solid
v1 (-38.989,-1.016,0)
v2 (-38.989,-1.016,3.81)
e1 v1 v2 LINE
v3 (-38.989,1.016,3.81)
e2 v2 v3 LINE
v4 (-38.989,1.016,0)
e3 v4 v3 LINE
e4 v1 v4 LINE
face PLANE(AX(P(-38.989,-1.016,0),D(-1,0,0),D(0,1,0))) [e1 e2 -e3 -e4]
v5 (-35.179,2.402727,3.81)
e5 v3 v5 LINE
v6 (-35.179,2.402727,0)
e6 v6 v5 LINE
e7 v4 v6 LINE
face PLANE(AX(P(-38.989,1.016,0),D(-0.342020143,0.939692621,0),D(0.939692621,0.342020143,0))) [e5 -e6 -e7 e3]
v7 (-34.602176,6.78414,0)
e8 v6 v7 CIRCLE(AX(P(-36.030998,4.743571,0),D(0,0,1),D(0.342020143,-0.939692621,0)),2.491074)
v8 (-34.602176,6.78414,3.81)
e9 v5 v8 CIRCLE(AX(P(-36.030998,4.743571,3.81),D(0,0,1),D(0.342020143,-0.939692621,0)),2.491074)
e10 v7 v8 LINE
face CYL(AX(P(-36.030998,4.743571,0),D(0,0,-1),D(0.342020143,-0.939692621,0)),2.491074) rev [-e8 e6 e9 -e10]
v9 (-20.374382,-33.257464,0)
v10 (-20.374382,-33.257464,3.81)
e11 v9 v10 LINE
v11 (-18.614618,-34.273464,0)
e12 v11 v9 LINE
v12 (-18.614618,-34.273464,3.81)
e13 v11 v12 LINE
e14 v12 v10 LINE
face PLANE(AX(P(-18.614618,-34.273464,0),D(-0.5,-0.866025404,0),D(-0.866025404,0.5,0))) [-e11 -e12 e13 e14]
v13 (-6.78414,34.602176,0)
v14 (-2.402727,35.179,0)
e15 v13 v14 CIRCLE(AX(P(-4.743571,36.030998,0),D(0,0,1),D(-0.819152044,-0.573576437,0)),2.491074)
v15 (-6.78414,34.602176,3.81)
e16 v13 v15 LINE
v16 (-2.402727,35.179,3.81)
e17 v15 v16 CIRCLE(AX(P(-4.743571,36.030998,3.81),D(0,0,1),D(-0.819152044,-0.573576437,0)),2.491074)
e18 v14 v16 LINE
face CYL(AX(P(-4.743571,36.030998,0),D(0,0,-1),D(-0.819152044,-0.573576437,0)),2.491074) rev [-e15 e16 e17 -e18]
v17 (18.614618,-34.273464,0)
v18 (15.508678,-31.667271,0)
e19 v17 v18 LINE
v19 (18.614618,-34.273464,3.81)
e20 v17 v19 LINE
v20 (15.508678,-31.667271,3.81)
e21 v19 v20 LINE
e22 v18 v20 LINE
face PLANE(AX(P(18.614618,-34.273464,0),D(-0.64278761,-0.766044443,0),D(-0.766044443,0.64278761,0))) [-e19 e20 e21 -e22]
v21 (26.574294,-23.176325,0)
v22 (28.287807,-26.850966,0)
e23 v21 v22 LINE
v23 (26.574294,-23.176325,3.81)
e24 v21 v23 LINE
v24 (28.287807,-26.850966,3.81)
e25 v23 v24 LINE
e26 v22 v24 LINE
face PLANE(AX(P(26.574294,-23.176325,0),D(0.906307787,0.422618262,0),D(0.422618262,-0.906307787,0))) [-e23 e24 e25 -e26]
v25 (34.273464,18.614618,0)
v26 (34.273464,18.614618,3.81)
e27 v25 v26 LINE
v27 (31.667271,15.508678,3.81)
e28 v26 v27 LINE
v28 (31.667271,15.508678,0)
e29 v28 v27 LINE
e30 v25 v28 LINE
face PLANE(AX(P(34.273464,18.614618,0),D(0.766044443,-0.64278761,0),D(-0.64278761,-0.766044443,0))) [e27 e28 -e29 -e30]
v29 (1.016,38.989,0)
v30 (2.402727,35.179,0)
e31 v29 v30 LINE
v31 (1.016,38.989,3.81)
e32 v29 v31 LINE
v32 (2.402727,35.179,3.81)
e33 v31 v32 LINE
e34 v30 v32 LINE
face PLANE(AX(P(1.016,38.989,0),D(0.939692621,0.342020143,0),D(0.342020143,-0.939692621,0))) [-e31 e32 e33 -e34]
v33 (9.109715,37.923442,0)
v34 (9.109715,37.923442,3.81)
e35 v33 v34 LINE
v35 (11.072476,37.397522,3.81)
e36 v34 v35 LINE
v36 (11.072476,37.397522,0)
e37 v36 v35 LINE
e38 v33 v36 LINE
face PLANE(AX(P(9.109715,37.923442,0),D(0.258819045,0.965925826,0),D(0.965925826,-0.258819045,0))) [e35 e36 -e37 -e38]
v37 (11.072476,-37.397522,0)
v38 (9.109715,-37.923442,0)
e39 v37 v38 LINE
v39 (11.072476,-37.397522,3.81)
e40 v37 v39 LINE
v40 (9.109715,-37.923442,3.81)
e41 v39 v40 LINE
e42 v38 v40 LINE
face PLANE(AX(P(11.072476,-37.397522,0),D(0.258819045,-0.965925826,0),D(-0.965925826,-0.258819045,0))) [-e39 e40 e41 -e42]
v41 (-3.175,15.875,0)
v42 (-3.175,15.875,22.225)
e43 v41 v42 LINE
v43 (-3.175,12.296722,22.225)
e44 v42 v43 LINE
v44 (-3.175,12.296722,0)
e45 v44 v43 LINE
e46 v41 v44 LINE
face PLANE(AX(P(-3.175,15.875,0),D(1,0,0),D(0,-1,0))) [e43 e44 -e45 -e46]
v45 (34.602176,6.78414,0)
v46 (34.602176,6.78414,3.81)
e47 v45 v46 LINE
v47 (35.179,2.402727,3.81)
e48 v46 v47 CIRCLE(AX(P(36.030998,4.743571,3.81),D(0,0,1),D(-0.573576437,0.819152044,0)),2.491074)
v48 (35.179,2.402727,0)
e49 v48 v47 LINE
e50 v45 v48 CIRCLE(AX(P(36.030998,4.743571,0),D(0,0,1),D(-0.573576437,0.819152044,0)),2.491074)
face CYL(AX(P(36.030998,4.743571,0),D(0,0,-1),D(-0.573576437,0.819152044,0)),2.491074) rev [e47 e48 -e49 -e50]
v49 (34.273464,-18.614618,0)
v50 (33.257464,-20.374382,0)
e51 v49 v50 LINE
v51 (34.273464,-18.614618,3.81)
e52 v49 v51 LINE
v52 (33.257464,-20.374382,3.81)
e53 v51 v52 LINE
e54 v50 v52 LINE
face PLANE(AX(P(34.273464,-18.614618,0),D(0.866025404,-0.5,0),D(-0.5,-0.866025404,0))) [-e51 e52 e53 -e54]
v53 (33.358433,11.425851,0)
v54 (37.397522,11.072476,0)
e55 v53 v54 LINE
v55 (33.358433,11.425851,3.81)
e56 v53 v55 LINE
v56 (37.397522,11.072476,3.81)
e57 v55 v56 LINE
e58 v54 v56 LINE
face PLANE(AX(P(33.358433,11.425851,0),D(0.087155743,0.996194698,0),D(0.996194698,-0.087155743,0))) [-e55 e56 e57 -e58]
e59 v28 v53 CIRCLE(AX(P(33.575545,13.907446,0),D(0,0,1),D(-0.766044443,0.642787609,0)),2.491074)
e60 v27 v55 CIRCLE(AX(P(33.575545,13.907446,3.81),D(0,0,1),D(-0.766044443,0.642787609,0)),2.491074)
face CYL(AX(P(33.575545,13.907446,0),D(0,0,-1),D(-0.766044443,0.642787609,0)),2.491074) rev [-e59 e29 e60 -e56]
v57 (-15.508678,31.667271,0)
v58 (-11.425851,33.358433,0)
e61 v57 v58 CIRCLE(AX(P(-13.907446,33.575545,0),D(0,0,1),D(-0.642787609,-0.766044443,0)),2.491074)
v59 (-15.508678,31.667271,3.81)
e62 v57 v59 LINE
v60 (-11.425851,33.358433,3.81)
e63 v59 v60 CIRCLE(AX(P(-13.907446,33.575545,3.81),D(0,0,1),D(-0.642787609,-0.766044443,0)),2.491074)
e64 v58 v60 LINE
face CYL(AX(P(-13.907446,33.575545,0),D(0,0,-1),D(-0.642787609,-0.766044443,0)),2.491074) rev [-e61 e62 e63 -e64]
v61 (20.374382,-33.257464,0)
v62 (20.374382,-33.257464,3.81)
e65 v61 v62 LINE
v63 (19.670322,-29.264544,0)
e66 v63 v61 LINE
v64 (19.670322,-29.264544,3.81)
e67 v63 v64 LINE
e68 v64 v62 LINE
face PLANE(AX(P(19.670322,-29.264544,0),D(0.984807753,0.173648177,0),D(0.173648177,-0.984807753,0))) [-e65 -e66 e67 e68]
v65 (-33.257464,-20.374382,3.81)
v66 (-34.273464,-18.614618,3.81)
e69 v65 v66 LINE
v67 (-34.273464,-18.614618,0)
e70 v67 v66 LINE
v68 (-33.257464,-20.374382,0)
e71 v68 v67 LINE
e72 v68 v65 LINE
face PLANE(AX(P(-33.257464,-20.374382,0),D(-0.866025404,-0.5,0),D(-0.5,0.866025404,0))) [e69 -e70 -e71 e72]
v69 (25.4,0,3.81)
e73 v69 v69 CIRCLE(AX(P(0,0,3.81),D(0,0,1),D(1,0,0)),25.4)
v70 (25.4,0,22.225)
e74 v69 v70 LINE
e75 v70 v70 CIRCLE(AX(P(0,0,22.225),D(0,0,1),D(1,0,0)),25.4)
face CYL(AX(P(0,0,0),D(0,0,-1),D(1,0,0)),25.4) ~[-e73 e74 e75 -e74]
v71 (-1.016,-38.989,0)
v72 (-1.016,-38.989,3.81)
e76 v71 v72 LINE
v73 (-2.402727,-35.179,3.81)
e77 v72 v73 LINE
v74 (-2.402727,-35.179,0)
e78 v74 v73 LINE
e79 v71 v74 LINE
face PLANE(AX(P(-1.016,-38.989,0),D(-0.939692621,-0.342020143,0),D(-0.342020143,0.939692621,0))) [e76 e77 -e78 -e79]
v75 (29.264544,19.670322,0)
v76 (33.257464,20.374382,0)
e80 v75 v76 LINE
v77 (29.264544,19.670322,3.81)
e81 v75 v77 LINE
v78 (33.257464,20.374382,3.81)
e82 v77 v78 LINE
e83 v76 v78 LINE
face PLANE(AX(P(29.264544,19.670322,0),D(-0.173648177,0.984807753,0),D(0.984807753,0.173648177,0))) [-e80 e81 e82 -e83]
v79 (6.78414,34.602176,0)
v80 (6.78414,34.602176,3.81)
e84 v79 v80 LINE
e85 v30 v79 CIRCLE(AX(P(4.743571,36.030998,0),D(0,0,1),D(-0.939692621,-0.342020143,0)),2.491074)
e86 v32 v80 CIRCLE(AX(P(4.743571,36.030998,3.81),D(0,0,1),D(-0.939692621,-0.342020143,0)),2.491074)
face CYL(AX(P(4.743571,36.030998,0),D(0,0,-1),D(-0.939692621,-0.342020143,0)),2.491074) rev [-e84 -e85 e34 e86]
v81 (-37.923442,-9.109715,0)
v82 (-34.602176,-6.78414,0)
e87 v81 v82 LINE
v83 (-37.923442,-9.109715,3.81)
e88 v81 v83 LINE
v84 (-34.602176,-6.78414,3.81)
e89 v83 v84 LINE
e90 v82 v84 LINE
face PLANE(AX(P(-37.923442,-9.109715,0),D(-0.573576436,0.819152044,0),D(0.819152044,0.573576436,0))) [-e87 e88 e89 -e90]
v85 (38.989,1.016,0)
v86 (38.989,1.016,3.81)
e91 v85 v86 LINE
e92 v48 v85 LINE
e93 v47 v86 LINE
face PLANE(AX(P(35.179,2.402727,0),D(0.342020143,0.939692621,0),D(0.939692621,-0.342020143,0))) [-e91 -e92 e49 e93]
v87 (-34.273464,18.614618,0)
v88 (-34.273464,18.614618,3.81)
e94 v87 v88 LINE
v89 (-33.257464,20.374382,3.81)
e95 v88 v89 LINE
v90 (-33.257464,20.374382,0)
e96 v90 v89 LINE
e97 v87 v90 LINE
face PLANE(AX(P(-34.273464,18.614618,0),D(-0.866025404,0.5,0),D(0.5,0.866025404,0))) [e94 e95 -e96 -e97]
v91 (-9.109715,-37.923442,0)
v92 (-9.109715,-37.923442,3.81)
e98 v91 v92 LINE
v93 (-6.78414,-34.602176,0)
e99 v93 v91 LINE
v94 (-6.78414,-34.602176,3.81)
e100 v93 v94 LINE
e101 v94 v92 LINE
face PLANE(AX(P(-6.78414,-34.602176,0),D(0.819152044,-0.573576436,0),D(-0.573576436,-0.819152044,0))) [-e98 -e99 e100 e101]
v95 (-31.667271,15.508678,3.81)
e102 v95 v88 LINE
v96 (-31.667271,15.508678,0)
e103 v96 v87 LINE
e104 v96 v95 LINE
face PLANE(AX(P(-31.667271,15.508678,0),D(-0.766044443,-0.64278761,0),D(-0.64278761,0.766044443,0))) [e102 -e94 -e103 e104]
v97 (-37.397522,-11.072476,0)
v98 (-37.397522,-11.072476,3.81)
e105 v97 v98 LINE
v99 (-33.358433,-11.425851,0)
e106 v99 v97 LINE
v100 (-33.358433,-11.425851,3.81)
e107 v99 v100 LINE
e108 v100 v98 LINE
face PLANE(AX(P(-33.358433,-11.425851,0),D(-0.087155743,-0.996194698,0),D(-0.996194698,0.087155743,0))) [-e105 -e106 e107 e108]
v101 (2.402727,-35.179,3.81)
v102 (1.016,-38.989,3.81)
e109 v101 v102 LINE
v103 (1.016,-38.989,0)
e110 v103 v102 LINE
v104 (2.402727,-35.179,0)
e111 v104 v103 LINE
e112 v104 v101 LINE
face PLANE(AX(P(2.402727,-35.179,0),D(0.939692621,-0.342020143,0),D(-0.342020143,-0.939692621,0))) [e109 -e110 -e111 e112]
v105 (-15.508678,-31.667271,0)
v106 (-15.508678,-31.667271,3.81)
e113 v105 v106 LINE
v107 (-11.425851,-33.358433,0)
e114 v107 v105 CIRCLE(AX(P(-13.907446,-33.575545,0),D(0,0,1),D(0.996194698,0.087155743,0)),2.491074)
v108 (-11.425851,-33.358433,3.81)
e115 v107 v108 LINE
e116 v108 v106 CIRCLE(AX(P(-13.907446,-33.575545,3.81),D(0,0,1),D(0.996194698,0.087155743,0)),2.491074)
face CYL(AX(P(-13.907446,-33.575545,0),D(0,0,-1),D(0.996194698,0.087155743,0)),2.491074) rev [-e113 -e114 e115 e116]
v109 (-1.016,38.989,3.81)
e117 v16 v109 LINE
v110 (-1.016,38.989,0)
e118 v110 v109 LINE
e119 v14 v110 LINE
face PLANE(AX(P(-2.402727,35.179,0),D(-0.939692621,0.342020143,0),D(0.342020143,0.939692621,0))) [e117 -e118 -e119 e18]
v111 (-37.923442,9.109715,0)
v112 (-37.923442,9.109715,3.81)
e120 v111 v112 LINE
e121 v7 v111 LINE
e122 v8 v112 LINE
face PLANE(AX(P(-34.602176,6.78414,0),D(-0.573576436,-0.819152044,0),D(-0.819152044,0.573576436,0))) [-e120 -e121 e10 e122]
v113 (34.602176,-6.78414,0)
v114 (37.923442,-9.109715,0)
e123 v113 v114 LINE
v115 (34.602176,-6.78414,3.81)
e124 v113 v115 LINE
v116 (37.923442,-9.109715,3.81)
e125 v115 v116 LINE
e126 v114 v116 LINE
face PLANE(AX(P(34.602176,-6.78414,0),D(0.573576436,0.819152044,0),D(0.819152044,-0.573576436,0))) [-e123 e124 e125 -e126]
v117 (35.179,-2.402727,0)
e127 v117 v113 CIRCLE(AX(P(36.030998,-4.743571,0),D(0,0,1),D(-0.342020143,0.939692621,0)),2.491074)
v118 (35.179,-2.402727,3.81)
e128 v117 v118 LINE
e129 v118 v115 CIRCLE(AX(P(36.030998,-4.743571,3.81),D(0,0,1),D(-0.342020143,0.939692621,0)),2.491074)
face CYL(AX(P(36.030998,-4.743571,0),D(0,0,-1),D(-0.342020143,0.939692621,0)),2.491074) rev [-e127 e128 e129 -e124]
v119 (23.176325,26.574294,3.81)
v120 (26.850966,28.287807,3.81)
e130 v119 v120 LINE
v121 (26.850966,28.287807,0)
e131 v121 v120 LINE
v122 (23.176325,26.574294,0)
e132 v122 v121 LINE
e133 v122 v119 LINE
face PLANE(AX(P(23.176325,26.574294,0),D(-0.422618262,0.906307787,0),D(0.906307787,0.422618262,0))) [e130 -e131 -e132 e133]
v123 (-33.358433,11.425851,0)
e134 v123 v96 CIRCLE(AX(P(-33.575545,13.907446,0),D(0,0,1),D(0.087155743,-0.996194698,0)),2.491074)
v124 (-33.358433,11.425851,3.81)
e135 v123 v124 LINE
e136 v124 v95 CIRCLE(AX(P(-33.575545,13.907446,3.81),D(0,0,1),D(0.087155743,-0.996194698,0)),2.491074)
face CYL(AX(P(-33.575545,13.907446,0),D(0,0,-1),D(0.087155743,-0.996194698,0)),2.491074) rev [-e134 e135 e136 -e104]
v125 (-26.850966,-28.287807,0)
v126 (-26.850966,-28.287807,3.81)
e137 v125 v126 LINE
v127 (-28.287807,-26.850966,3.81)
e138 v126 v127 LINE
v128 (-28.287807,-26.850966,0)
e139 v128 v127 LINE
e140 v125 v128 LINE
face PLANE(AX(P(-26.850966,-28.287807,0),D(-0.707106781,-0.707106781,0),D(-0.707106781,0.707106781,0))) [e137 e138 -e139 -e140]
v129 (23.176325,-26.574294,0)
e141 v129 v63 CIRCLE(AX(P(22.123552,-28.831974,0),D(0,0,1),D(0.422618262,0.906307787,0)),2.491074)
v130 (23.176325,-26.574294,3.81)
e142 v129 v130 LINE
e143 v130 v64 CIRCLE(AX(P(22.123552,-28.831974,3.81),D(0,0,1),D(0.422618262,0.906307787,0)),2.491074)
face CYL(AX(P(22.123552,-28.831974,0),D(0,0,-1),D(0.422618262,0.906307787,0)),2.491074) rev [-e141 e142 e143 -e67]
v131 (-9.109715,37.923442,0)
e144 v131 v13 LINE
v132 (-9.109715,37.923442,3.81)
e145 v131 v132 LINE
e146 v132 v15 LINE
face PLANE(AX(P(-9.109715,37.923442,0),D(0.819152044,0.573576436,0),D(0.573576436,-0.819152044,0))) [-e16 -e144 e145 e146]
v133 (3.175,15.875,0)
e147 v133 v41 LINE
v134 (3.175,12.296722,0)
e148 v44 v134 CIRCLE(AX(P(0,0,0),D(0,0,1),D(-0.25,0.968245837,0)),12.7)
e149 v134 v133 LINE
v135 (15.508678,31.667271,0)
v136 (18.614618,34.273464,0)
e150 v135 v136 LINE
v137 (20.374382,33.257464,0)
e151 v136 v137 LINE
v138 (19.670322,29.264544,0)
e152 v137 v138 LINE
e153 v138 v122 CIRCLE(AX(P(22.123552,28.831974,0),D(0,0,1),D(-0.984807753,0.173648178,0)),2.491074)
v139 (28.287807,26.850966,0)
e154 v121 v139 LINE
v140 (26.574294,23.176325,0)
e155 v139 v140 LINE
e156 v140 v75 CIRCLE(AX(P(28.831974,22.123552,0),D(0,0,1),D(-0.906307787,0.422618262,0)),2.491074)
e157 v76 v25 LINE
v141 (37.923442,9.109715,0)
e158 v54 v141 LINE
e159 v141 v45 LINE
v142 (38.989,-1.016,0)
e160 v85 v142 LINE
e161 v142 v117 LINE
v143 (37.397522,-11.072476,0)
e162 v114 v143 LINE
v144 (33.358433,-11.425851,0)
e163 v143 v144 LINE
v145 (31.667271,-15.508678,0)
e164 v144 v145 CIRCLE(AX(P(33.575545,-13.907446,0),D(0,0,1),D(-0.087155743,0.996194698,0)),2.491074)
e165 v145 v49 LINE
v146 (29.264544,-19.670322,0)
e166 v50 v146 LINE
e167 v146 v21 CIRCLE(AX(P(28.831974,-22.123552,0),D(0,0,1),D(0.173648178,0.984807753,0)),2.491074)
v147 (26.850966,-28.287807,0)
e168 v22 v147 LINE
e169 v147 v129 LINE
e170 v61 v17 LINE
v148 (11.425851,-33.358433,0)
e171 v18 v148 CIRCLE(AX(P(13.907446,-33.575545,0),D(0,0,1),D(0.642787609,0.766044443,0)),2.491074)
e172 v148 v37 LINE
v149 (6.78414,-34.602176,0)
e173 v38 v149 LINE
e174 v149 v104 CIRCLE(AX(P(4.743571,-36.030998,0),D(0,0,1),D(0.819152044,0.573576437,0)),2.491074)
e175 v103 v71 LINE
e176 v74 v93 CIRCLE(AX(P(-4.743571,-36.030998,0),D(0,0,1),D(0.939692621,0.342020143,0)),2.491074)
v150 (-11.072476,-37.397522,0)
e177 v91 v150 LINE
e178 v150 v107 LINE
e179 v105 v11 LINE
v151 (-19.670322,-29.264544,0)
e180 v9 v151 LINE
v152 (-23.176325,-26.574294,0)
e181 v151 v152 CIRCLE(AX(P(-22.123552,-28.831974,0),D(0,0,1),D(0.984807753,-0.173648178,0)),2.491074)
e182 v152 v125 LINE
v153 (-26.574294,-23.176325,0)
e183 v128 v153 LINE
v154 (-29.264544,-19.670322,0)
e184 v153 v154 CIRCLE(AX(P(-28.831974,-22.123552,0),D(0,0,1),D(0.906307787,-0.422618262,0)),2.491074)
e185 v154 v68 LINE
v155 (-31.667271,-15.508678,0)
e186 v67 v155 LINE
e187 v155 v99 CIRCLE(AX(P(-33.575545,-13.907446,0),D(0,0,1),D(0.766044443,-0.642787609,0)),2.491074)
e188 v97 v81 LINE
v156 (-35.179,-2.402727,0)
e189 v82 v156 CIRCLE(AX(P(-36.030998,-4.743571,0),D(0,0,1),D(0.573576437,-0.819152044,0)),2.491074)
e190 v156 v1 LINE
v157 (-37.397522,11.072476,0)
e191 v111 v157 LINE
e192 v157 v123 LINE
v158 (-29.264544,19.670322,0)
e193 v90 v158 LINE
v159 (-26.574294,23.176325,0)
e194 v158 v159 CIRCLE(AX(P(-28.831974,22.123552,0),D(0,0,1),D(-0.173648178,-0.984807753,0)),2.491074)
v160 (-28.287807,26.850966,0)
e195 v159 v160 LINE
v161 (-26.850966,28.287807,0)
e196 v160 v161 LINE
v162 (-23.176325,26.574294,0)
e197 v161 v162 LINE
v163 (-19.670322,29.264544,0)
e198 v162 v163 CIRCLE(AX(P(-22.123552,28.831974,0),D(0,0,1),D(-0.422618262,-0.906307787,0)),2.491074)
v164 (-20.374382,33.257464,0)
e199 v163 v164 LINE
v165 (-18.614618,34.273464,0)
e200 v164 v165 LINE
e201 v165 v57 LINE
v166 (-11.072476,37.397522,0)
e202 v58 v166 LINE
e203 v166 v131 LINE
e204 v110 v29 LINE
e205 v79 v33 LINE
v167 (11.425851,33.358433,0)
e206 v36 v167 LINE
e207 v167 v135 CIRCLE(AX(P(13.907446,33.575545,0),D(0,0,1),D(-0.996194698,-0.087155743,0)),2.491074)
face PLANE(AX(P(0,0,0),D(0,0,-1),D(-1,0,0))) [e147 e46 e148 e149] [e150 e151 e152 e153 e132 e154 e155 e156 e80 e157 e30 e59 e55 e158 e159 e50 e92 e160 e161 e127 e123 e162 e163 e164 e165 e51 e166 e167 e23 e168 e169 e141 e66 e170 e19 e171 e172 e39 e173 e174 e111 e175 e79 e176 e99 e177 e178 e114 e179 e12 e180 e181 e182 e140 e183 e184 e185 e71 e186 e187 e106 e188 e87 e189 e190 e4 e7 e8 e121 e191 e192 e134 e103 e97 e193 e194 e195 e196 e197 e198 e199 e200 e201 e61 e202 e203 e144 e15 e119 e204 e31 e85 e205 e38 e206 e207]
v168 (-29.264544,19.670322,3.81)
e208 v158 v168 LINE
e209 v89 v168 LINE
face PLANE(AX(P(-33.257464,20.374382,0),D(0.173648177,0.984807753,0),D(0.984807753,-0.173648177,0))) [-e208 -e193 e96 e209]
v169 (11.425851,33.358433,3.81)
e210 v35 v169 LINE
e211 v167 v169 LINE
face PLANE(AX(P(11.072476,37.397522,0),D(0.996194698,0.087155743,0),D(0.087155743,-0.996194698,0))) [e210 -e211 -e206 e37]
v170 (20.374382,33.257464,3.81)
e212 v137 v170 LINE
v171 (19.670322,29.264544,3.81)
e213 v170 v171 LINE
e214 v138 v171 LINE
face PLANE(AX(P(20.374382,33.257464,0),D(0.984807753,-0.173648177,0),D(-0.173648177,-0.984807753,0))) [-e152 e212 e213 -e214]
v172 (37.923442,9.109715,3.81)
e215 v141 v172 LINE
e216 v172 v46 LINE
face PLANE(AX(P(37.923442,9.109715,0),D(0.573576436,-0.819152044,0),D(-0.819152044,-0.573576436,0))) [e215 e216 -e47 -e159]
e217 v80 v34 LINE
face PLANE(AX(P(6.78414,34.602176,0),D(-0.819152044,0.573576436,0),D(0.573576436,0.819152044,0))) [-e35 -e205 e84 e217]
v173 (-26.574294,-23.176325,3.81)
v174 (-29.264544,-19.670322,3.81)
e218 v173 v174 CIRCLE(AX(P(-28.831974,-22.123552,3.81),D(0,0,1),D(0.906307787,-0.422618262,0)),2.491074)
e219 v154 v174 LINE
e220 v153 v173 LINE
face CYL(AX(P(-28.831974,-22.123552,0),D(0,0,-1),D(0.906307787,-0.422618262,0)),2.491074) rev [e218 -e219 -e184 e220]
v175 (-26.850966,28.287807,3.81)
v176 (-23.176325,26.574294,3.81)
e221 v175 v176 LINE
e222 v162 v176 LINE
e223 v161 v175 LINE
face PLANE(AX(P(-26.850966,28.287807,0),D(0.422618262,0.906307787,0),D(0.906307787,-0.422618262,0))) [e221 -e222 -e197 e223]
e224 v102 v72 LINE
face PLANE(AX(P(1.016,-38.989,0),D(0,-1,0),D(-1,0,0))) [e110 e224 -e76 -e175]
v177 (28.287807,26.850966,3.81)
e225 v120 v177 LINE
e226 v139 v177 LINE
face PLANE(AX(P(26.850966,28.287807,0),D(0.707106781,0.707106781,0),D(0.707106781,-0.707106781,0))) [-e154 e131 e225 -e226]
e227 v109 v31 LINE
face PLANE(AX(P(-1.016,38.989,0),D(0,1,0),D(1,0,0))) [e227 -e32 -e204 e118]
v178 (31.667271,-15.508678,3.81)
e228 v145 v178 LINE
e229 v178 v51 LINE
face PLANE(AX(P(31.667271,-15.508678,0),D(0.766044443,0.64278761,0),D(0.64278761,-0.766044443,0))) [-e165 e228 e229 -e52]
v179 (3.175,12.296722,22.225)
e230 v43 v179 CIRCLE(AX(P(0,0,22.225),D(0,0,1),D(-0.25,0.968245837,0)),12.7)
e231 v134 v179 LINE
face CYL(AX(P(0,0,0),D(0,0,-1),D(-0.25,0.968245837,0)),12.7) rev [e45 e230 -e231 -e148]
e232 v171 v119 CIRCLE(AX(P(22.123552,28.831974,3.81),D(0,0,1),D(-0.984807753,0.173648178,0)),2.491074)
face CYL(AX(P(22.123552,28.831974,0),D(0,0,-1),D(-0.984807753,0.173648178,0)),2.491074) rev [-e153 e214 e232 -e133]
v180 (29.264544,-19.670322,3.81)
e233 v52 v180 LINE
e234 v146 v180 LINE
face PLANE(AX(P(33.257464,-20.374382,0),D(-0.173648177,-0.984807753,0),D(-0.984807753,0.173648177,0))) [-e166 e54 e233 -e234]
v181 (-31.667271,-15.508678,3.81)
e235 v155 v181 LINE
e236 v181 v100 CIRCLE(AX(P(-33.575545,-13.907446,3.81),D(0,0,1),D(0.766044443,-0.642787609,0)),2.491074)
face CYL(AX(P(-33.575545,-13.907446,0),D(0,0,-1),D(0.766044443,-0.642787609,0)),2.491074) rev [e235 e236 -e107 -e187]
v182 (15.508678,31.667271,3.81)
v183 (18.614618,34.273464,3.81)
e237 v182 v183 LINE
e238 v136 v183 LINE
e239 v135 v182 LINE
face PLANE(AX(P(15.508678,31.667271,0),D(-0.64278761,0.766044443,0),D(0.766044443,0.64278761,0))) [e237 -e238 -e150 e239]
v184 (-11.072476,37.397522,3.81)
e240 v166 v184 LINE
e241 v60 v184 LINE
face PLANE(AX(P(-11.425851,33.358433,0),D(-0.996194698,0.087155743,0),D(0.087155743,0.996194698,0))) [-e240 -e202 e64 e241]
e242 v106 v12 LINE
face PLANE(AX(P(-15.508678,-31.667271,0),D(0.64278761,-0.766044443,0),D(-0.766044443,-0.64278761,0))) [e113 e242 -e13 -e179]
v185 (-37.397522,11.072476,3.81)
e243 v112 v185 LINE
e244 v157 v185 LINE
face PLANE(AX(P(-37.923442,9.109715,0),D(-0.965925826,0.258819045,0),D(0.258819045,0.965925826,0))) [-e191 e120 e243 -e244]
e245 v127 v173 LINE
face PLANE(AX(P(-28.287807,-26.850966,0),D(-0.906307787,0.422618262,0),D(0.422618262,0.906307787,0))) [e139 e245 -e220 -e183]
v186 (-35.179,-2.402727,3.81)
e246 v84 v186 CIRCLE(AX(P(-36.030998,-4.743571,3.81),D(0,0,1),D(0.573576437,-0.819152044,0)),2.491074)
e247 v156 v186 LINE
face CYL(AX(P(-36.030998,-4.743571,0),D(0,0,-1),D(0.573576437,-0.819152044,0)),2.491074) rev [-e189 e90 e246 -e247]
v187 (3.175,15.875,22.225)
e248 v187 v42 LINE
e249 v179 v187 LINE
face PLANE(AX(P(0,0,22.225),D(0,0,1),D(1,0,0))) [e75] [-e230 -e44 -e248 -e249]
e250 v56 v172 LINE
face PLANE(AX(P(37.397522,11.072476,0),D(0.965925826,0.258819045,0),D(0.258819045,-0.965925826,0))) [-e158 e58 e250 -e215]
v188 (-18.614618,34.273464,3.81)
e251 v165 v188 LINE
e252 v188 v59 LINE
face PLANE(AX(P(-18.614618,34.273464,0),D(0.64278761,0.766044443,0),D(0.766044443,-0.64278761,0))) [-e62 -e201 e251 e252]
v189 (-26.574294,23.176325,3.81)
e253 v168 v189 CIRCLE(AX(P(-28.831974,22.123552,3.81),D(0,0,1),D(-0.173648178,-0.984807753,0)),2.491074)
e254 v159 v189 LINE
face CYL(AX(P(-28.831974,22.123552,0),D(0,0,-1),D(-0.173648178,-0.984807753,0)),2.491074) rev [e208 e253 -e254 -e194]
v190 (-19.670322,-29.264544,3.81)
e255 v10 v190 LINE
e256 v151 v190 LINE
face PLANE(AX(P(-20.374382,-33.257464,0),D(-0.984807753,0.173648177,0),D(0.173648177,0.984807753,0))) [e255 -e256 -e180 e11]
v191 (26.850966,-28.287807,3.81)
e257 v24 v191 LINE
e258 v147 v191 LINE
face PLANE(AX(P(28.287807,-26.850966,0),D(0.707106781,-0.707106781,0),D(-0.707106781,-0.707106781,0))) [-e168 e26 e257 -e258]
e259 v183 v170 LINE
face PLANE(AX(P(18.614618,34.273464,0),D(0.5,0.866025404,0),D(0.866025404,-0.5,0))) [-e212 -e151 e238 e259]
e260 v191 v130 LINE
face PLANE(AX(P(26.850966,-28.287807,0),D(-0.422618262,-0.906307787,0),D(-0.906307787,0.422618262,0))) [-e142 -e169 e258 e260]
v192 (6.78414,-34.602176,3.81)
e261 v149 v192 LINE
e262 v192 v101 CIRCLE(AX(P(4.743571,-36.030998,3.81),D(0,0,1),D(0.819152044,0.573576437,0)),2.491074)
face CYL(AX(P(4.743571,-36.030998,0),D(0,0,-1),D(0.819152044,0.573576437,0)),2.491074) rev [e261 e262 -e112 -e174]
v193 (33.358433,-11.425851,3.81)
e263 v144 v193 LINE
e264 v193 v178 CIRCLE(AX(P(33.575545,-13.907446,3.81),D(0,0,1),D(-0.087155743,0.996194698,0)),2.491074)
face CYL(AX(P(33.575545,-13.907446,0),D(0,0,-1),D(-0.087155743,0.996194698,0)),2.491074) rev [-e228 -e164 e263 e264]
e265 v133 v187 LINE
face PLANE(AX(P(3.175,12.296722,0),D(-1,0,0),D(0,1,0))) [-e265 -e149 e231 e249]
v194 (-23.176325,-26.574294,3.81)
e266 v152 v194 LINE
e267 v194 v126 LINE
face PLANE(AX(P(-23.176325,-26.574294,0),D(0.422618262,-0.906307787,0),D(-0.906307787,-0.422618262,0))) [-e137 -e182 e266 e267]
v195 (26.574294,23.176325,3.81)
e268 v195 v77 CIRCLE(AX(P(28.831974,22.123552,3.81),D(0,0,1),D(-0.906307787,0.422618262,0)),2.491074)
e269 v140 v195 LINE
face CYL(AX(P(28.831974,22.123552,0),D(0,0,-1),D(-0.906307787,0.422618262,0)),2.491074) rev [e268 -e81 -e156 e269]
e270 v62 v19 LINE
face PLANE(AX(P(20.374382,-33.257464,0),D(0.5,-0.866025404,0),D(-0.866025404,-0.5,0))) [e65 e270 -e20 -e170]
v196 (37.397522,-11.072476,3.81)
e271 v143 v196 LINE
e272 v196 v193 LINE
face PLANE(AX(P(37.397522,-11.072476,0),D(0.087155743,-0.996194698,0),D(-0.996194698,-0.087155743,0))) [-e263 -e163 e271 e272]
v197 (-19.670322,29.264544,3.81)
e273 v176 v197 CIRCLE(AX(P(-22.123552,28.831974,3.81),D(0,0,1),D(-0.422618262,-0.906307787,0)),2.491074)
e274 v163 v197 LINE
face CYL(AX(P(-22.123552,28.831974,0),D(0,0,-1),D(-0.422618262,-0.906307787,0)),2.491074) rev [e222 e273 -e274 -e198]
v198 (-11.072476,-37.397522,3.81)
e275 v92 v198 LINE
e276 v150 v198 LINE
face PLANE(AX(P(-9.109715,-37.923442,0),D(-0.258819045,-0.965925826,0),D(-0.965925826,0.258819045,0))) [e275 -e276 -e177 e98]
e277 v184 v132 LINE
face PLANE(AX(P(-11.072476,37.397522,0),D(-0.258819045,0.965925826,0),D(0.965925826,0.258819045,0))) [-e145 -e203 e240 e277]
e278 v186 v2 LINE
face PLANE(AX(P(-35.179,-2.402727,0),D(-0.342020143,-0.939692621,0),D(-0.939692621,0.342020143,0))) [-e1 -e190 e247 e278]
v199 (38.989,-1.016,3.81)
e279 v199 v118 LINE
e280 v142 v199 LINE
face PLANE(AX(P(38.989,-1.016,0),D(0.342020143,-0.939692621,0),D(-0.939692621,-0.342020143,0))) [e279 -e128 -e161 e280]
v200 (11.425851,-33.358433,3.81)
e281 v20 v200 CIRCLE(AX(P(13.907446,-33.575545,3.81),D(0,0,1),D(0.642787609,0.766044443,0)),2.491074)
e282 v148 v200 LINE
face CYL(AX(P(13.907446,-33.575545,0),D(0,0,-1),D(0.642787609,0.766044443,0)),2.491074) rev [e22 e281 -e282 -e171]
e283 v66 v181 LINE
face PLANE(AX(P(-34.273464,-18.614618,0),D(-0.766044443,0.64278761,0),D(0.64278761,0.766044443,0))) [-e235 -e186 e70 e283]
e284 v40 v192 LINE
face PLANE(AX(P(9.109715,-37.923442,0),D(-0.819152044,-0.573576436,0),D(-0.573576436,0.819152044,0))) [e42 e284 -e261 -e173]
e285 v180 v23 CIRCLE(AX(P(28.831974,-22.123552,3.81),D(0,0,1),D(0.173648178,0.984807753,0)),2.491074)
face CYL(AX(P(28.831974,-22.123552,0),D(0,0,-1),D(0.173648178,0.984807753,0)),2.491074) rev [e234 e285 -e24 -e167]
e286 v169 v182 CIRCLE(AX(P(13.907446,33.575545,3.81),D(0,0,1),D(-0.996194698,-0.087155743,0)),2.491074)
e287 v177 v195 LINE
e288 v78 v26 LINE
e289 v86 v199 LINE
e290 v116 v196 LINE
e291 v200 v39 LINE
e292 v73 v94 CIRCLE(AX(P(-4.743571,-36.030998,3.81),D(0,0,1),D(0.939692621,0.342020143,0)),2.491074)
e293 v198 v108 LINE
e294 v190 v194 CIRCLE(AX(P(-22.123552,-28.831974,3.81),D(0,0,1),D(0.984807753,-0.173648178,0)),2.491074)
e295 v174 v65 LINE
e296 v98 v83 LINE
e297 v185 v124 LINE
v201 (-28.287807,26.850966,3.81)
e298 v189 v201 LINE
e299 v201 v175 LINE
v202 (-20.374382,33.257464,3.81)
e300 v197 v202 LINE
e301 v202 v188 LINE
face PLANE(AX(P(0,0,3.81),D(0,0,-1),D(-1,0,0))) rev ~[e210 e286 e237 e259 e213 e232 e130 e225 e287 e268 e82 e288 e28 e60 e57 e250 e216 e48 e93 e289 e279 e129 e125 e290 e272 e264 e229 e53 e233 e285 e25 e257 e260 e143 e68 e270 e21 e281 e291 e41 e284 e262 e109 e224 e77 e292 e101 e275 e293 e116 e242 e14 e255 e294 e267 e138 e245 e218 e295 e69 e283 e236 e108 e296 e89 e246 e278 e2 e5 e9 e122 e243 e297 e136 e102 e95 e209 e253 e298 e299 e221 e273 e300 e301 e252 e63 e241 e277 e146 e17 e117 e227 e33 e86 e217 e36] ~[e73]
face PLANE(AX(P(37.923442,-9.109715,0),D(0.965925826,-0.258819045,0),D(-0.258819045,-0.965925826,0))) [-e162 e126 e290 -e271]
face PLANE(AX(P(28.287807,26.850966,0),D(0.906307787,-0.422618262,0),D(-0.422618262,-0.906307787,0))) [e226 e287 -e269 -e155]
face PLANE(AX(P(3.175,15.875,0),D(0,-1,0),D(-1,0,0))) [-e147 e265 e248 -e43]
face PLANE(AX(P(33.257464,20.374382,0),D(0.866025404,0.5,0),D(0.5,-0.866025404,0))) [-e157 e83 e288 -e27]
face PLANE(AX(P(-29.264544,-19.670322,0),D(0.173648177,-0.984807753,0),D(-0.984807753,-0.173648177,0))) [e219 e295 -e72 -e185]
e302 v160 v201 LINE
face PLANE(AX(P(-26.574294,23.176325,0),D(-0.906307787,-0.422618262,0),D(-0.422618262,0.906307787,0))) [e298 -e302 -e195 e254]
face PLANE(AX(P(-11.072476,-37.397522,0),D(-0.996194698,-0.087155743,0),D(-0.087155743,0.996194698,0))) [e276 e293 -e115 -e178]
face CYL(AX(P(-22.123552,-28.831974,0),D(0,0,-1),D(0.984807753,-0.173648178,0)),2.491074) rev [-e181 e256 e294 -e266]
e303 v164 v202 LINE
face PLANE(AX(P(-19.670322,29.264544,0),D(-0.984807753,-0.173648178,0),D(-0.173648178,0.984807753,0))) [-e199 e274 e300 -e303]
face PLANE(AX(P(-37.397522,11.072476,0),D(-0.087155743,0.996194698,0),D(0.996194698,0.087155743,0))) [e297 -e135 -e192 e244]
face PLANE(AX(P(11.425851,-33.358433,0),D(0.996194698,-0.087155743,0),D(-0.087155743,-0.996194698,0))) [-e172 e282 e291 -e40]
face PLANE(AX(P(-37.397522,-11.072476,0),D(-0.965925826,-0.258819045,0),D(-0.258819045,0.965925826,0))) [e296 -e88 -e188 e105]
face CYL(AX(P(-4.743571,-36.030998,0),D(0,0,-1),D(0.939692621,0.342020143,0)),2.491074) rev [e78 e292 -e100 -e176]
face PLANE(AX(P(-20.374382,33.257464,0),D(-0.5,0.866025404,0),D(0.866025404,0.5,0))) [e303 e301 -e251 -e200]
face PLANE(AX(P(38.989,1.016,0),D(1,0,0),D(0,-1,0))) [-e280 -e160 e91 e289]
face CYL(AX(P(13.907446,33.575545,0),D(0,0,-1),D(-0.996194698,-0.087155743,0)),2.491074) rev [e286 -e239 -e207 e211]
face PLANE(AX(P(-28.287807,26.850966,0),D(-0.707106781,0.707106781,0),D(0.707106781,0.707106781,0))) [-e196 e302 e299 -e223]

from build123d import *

# Parameters (mm, degrees)
SKETCH1_R           = 25.4
BOSS_EXTRUDE1_DEPTH = 3.81
SKETCH1_3_R         = 25.4
BOSS_EXTRUDE2_DEPTH = 22.225


with BuildPart() as part:
    # Sketch1 → Boss-Extrude1 (new body)
    with BuildSketch(Plane.XY):
        with BuildLine():
            Line((1.016, 38.989), (-1.016, 38.989))
            Line((-1.016, 38.989), (-2.402726593, 35.179))
            ThreePointArc((-2.402726593, 35.179), (-4.418420371, 33.561234708), (-6.784139518, 34.602176045))
            Line((-6.784139518, 34.602176045), (-9.10971511, 37.923442191))
            Line((-9.10971511, 37.923442191), (-11.072476389, 37.397521891))
            Line((-11.072476389, 37.397521891), (-11.425850857, 33.358433241))
            ThreePointArc((-11.425850857, 33.358433241), (-12.954153068, 31.274092025), (-15.508677732, 31.667270976))
            Line((-15.508677732, 31.667270976), (-18.61461819, 34.273464468))
            Line((-18.61461819, 34.273464468), (-20.37438181, 33.257464468))
            Line((-20.37438181, 33.257464468), (-19.670322267, 29.264544383))
            ThreePointArc((-19.670322268, 29.264544383), (-20.60708164, 26.855671653), (-23.176325188, 26.574293722))
            Line((-23.176325188, 26.574293722), (-26.850965802, 28.287806781))
            Line((-26.850965802, 28.287806781), (-28.287806781, 26.850965802))
            Line((-28.287806781, 26.850965802), (-26.574293722, 23.176325188))
            ThreePointArc((-26.574293722, 23.176325188), (-26.855671653, 20.60708164), (-29.264544383, 19.670322268))
            Line((-29.264544383, 19.670322268), (-33.257464468, 20.37438181))
            Line((-33.257464468, 20.37438181), (-34.273464468, 18.61461819))
            Line((-34.273464468, 18.61461819), (-31.667270976, 15.508677732))
            ThreePointArc((-31.667270976, 15.508677732), (-31.274092025, 12.954153068), (-33.358433241, 11.425850857))
            Line((-33.358433241, 11.425850857), (-37.397521891, 11.072476389))
            Line((-37.397521891, 11.072476389), (-37.923442191, 9.10971511))
            Line((-37.923442191, 9.10971511), (-34.602176045, 6.784139518))
            ThreePointArc((-34.602176045, 6.784139518), (-33.561234708, 4.418420371), (-35.179, 2.402726593))
            Line((-35.179, 2.402726593), (-38.989, 1.016))
            Line((-38.989, 1.016), (-38.989, -1.016))
            Line((-38.989, -1.016), (-35.179, -2.402726593))
            ThreePointArc((-35.179, -2.402726593), (-33.561234708, -4.418420371), (-34.602176045, -6.784139518))
            Line((-34.602176045, -6.784139518), (-37.923442191, -9.10971511))
            Line((-37.923442191, -9.10971511), (-37.397521891, -11.072476389))
            Line((-37.397521891, -11.072476389), (-33.358433241, -11.425850857))
            ThreePointArc((-33.358433241, -11.425850857), (-31.274092025, -12.954153068), (-31.667270976, -15.508677732))
            Line((-31.667270976, -15.508677732), (-34.273464468, -18.61461819))
            Line((-34.273464468, -18.61461819), (-33.257464468, -20.37438181))
            Line((-33.257464468, -20.37438181), (-29.264544383, -19.670322268))
            ThreePointArc((-29.264544383, -19.670322268), (-26.855671653, -20.60708164), (-26.574293722, -23.176325188))
            Line((-26.574293722, -23.176325188), (-28.287806781, -26.850965802))
            Line((-28.287806781, -26.850965802), (-26.850965802, -28.287806781))
            Line((-26.850965802, -28.287806781), (-23.176325188, -26.574293722))
            ThreePointArc((-23.176325188, -26.574293722), (-20.60708164, -26.855671653), (-19.670322268, -29.264544383))
            Line((-19.670322268, -29.264544383), (-20.37438181, -33.257464468))
            Line((-20.37438181, -33.257464468), (-18.61461819, -34.273464468))
            Line((-18.61461819, -34.273464468), (-15.508677732, -31.667270976))
            ThreePointArc((-15.508677732, -31.667270976), (-12.954153068, -31.274092025), (-11.425850857, -33.358433241))
            Line((-11.425850857, -33.358433241), (-11.072476389, -37.397521891))
            Line((-11.072476389, -37.397521891), (-9.10971511, -37.923442191))
            Line((-9.10971511, -37.923442191), (-6.784139518, -34.602176045))
            ThreePointArc((-6.784139518, -34.602176045), (-4.418420371, -33.561234708), (-2.402726593, -35.179))
            Line((-2.402726593, -35.179), (-1.016, -38.989))
            Line((-1.016, -38.989), (1.016, -38.989))
            Line((1.016, -38.989), (2.402726593, -35.179))
            ThreePointArc((2.402726593, -35.179), (4.418420371, -33.561234708), (6.784139518, -34.602176045))
            Line((6.784139518, -34.602176045), (9.10971511, -37.923442191))
            Line((9.10971511, -37.923442191), (11.072476389, -37.397521891))
            Line((11.072476389, -37.397521891), (11.425850857, -33.358433241))
            ThreePointArc((11.425850857, -33.358433241), (12.954153068, -31.274092025), (15.508677732, -31.667270976))
            Line((15.508677732, -31.667270976), (18.61461819, -34.273464468))
            Line((18.61461819, -34.273464468), (20.37438181, -33.257464468))
            Line((20.37438181, -33.257464468), (19.670322268, -29.264544383))
            ThreePointArc((19.670322268, -29.264544383), (20.60708164, -26.855671653), (23.176325188, -26.574293722))
            Line((23.176325188, -26.574293722), (26.850965802, -28.287806781))
            Line((26.850965802, -28.287806781), (28.287806781, -26.850965802))
            Line((28.287806781, -26.850965802), (26.574293722, -23.176325188))
            ThreePointArc((26.574293722, -23.176325188), (26.855671653, -20.60708164), (29.264544383, -19.670322268))
            Line((29.264544383, -19.670322268), (33.257464468, -20.37438181))
            Line((33.257464468, -20.37438181), (34.273464468, -18.61461819))
            Line((34.273464468, -18.61461819), (31.667270976, -15.508677732))
            ThreePointArc((31.667270976, -15.508677732), (31.274092025, -12.954153068), (33.358433241, -11.425850857))
            Line((33.358433241, -11.425850857), (37.397521891, -11.072476389))
            Line((37.397521891, -11.072476389), (37.923442191, -9.10971511))
            Line((37.923442191, -9.10971511), (34.602176045, -6.784139518))
            ThreePointArc((34.602176045, -6.784139518), (33.561234708, -4.418420371), (35.179, -2.402726593))
            Line((35.179, -2.402726593), (38.989, -1.016))
            Line((38.989, -1.016), (38.989, 1.016))
            Line((38.989, 1.016), (35.179, 2.402726593))
            ThreePointArc((35.179, 2.402726593), (33.561234708, 4.418420371), (34.602176045, 6.784139518))
            Line((34.602176045, 6.784139518), (37.923442191, 9.10971511))
            Line((37.923442191, 9.10971511), (37.397521891, 11.072476389))
            Line((37.397521891, 11.072476389), (33.358433241, 11.425850857))
            ThreePointArc((33.358433241, 11.425850857), (31.274092025, 12.954153068), (31.667270976, 15.508677732))
            Line((31.667270976, 15.508677732), (34.273464468, 18.61461819))
            Line((34.273464468, 18.61461819), (33.257464468, 20.37438181))
            Line((33.257464468, 20.37438181), (29.264544383, 19.670322268))
            ThreePointArc((29.264544383, 19.670322268), (26.855671653, 20.60708164), (26.574293722, 23.176325188))
            Line((26.574293722, 23.176325188), (28.287806781, 26.850965802))
            Line((28.287806781, 26.850965802), (26.850965802, 28.287806781))
            Line((26.850965802, 28.287806781), (23.176325188, 26.574293722))
            ThreePointArc((23.176325188, 26.574293722), (20.60708164, 26.855671653), (19.670322268, 29.264544383))
            Line((19.670322268, 29.264544383), (20.37438181, 33.257464468))
            Line((20.37438181, 33.257464468), (18.61461819, 34.273464468))
            Line((18.61461819, 34.273464468), (15.508677732, 31.667270976))
            ThreePointArc((15.508677732, 31.667270976), (12.954153068, 31.274092025), (11.425850857, 33.358433241))
            Line((11.425850857, 33.358433241), (11.072476389, 37.397521891))
            Line((11.072476389, 37.397521891), (9.10971511, 37.923442191))
            Line((9.10971511, 37.923442191), (6.784139518, 34.602176045))
            ThreePointArc((6.784139518, 34.602176045), (4.418420371, 33.561234708), (2.402726593, 35.179))
            Line((2.402726593, 35.179), (1.016, 38.989))
        make_face()
        Circle(SKETCH1_R, mode=Mode.SUBTRACT)
    extrude(amount=BOSS_EXTRUDE1_DEPTH)

    # Sketch1<3> → Boss-Extrude2 (add)
    with BuildSketch(Plane.XY):
        Circle(SKETCH1_3_R)
        with BuildLine():
            ThreePointArc((3.175, 12.296722124), (0, -12.7), (-3.175, 12.296722124))
            Line((-3.175, 12.296722124), (-3.175, 15.875))
            Line((-3.175, 15.875), (3.175, 15.875))
            Line((3.175, 15.875), (3.175, 12.296722124))
        make_face(mode=Mode.SUBTRACT)
    extrude(amount=BOSS_EXTRUDE2_DEPTH)


solid = part.part
